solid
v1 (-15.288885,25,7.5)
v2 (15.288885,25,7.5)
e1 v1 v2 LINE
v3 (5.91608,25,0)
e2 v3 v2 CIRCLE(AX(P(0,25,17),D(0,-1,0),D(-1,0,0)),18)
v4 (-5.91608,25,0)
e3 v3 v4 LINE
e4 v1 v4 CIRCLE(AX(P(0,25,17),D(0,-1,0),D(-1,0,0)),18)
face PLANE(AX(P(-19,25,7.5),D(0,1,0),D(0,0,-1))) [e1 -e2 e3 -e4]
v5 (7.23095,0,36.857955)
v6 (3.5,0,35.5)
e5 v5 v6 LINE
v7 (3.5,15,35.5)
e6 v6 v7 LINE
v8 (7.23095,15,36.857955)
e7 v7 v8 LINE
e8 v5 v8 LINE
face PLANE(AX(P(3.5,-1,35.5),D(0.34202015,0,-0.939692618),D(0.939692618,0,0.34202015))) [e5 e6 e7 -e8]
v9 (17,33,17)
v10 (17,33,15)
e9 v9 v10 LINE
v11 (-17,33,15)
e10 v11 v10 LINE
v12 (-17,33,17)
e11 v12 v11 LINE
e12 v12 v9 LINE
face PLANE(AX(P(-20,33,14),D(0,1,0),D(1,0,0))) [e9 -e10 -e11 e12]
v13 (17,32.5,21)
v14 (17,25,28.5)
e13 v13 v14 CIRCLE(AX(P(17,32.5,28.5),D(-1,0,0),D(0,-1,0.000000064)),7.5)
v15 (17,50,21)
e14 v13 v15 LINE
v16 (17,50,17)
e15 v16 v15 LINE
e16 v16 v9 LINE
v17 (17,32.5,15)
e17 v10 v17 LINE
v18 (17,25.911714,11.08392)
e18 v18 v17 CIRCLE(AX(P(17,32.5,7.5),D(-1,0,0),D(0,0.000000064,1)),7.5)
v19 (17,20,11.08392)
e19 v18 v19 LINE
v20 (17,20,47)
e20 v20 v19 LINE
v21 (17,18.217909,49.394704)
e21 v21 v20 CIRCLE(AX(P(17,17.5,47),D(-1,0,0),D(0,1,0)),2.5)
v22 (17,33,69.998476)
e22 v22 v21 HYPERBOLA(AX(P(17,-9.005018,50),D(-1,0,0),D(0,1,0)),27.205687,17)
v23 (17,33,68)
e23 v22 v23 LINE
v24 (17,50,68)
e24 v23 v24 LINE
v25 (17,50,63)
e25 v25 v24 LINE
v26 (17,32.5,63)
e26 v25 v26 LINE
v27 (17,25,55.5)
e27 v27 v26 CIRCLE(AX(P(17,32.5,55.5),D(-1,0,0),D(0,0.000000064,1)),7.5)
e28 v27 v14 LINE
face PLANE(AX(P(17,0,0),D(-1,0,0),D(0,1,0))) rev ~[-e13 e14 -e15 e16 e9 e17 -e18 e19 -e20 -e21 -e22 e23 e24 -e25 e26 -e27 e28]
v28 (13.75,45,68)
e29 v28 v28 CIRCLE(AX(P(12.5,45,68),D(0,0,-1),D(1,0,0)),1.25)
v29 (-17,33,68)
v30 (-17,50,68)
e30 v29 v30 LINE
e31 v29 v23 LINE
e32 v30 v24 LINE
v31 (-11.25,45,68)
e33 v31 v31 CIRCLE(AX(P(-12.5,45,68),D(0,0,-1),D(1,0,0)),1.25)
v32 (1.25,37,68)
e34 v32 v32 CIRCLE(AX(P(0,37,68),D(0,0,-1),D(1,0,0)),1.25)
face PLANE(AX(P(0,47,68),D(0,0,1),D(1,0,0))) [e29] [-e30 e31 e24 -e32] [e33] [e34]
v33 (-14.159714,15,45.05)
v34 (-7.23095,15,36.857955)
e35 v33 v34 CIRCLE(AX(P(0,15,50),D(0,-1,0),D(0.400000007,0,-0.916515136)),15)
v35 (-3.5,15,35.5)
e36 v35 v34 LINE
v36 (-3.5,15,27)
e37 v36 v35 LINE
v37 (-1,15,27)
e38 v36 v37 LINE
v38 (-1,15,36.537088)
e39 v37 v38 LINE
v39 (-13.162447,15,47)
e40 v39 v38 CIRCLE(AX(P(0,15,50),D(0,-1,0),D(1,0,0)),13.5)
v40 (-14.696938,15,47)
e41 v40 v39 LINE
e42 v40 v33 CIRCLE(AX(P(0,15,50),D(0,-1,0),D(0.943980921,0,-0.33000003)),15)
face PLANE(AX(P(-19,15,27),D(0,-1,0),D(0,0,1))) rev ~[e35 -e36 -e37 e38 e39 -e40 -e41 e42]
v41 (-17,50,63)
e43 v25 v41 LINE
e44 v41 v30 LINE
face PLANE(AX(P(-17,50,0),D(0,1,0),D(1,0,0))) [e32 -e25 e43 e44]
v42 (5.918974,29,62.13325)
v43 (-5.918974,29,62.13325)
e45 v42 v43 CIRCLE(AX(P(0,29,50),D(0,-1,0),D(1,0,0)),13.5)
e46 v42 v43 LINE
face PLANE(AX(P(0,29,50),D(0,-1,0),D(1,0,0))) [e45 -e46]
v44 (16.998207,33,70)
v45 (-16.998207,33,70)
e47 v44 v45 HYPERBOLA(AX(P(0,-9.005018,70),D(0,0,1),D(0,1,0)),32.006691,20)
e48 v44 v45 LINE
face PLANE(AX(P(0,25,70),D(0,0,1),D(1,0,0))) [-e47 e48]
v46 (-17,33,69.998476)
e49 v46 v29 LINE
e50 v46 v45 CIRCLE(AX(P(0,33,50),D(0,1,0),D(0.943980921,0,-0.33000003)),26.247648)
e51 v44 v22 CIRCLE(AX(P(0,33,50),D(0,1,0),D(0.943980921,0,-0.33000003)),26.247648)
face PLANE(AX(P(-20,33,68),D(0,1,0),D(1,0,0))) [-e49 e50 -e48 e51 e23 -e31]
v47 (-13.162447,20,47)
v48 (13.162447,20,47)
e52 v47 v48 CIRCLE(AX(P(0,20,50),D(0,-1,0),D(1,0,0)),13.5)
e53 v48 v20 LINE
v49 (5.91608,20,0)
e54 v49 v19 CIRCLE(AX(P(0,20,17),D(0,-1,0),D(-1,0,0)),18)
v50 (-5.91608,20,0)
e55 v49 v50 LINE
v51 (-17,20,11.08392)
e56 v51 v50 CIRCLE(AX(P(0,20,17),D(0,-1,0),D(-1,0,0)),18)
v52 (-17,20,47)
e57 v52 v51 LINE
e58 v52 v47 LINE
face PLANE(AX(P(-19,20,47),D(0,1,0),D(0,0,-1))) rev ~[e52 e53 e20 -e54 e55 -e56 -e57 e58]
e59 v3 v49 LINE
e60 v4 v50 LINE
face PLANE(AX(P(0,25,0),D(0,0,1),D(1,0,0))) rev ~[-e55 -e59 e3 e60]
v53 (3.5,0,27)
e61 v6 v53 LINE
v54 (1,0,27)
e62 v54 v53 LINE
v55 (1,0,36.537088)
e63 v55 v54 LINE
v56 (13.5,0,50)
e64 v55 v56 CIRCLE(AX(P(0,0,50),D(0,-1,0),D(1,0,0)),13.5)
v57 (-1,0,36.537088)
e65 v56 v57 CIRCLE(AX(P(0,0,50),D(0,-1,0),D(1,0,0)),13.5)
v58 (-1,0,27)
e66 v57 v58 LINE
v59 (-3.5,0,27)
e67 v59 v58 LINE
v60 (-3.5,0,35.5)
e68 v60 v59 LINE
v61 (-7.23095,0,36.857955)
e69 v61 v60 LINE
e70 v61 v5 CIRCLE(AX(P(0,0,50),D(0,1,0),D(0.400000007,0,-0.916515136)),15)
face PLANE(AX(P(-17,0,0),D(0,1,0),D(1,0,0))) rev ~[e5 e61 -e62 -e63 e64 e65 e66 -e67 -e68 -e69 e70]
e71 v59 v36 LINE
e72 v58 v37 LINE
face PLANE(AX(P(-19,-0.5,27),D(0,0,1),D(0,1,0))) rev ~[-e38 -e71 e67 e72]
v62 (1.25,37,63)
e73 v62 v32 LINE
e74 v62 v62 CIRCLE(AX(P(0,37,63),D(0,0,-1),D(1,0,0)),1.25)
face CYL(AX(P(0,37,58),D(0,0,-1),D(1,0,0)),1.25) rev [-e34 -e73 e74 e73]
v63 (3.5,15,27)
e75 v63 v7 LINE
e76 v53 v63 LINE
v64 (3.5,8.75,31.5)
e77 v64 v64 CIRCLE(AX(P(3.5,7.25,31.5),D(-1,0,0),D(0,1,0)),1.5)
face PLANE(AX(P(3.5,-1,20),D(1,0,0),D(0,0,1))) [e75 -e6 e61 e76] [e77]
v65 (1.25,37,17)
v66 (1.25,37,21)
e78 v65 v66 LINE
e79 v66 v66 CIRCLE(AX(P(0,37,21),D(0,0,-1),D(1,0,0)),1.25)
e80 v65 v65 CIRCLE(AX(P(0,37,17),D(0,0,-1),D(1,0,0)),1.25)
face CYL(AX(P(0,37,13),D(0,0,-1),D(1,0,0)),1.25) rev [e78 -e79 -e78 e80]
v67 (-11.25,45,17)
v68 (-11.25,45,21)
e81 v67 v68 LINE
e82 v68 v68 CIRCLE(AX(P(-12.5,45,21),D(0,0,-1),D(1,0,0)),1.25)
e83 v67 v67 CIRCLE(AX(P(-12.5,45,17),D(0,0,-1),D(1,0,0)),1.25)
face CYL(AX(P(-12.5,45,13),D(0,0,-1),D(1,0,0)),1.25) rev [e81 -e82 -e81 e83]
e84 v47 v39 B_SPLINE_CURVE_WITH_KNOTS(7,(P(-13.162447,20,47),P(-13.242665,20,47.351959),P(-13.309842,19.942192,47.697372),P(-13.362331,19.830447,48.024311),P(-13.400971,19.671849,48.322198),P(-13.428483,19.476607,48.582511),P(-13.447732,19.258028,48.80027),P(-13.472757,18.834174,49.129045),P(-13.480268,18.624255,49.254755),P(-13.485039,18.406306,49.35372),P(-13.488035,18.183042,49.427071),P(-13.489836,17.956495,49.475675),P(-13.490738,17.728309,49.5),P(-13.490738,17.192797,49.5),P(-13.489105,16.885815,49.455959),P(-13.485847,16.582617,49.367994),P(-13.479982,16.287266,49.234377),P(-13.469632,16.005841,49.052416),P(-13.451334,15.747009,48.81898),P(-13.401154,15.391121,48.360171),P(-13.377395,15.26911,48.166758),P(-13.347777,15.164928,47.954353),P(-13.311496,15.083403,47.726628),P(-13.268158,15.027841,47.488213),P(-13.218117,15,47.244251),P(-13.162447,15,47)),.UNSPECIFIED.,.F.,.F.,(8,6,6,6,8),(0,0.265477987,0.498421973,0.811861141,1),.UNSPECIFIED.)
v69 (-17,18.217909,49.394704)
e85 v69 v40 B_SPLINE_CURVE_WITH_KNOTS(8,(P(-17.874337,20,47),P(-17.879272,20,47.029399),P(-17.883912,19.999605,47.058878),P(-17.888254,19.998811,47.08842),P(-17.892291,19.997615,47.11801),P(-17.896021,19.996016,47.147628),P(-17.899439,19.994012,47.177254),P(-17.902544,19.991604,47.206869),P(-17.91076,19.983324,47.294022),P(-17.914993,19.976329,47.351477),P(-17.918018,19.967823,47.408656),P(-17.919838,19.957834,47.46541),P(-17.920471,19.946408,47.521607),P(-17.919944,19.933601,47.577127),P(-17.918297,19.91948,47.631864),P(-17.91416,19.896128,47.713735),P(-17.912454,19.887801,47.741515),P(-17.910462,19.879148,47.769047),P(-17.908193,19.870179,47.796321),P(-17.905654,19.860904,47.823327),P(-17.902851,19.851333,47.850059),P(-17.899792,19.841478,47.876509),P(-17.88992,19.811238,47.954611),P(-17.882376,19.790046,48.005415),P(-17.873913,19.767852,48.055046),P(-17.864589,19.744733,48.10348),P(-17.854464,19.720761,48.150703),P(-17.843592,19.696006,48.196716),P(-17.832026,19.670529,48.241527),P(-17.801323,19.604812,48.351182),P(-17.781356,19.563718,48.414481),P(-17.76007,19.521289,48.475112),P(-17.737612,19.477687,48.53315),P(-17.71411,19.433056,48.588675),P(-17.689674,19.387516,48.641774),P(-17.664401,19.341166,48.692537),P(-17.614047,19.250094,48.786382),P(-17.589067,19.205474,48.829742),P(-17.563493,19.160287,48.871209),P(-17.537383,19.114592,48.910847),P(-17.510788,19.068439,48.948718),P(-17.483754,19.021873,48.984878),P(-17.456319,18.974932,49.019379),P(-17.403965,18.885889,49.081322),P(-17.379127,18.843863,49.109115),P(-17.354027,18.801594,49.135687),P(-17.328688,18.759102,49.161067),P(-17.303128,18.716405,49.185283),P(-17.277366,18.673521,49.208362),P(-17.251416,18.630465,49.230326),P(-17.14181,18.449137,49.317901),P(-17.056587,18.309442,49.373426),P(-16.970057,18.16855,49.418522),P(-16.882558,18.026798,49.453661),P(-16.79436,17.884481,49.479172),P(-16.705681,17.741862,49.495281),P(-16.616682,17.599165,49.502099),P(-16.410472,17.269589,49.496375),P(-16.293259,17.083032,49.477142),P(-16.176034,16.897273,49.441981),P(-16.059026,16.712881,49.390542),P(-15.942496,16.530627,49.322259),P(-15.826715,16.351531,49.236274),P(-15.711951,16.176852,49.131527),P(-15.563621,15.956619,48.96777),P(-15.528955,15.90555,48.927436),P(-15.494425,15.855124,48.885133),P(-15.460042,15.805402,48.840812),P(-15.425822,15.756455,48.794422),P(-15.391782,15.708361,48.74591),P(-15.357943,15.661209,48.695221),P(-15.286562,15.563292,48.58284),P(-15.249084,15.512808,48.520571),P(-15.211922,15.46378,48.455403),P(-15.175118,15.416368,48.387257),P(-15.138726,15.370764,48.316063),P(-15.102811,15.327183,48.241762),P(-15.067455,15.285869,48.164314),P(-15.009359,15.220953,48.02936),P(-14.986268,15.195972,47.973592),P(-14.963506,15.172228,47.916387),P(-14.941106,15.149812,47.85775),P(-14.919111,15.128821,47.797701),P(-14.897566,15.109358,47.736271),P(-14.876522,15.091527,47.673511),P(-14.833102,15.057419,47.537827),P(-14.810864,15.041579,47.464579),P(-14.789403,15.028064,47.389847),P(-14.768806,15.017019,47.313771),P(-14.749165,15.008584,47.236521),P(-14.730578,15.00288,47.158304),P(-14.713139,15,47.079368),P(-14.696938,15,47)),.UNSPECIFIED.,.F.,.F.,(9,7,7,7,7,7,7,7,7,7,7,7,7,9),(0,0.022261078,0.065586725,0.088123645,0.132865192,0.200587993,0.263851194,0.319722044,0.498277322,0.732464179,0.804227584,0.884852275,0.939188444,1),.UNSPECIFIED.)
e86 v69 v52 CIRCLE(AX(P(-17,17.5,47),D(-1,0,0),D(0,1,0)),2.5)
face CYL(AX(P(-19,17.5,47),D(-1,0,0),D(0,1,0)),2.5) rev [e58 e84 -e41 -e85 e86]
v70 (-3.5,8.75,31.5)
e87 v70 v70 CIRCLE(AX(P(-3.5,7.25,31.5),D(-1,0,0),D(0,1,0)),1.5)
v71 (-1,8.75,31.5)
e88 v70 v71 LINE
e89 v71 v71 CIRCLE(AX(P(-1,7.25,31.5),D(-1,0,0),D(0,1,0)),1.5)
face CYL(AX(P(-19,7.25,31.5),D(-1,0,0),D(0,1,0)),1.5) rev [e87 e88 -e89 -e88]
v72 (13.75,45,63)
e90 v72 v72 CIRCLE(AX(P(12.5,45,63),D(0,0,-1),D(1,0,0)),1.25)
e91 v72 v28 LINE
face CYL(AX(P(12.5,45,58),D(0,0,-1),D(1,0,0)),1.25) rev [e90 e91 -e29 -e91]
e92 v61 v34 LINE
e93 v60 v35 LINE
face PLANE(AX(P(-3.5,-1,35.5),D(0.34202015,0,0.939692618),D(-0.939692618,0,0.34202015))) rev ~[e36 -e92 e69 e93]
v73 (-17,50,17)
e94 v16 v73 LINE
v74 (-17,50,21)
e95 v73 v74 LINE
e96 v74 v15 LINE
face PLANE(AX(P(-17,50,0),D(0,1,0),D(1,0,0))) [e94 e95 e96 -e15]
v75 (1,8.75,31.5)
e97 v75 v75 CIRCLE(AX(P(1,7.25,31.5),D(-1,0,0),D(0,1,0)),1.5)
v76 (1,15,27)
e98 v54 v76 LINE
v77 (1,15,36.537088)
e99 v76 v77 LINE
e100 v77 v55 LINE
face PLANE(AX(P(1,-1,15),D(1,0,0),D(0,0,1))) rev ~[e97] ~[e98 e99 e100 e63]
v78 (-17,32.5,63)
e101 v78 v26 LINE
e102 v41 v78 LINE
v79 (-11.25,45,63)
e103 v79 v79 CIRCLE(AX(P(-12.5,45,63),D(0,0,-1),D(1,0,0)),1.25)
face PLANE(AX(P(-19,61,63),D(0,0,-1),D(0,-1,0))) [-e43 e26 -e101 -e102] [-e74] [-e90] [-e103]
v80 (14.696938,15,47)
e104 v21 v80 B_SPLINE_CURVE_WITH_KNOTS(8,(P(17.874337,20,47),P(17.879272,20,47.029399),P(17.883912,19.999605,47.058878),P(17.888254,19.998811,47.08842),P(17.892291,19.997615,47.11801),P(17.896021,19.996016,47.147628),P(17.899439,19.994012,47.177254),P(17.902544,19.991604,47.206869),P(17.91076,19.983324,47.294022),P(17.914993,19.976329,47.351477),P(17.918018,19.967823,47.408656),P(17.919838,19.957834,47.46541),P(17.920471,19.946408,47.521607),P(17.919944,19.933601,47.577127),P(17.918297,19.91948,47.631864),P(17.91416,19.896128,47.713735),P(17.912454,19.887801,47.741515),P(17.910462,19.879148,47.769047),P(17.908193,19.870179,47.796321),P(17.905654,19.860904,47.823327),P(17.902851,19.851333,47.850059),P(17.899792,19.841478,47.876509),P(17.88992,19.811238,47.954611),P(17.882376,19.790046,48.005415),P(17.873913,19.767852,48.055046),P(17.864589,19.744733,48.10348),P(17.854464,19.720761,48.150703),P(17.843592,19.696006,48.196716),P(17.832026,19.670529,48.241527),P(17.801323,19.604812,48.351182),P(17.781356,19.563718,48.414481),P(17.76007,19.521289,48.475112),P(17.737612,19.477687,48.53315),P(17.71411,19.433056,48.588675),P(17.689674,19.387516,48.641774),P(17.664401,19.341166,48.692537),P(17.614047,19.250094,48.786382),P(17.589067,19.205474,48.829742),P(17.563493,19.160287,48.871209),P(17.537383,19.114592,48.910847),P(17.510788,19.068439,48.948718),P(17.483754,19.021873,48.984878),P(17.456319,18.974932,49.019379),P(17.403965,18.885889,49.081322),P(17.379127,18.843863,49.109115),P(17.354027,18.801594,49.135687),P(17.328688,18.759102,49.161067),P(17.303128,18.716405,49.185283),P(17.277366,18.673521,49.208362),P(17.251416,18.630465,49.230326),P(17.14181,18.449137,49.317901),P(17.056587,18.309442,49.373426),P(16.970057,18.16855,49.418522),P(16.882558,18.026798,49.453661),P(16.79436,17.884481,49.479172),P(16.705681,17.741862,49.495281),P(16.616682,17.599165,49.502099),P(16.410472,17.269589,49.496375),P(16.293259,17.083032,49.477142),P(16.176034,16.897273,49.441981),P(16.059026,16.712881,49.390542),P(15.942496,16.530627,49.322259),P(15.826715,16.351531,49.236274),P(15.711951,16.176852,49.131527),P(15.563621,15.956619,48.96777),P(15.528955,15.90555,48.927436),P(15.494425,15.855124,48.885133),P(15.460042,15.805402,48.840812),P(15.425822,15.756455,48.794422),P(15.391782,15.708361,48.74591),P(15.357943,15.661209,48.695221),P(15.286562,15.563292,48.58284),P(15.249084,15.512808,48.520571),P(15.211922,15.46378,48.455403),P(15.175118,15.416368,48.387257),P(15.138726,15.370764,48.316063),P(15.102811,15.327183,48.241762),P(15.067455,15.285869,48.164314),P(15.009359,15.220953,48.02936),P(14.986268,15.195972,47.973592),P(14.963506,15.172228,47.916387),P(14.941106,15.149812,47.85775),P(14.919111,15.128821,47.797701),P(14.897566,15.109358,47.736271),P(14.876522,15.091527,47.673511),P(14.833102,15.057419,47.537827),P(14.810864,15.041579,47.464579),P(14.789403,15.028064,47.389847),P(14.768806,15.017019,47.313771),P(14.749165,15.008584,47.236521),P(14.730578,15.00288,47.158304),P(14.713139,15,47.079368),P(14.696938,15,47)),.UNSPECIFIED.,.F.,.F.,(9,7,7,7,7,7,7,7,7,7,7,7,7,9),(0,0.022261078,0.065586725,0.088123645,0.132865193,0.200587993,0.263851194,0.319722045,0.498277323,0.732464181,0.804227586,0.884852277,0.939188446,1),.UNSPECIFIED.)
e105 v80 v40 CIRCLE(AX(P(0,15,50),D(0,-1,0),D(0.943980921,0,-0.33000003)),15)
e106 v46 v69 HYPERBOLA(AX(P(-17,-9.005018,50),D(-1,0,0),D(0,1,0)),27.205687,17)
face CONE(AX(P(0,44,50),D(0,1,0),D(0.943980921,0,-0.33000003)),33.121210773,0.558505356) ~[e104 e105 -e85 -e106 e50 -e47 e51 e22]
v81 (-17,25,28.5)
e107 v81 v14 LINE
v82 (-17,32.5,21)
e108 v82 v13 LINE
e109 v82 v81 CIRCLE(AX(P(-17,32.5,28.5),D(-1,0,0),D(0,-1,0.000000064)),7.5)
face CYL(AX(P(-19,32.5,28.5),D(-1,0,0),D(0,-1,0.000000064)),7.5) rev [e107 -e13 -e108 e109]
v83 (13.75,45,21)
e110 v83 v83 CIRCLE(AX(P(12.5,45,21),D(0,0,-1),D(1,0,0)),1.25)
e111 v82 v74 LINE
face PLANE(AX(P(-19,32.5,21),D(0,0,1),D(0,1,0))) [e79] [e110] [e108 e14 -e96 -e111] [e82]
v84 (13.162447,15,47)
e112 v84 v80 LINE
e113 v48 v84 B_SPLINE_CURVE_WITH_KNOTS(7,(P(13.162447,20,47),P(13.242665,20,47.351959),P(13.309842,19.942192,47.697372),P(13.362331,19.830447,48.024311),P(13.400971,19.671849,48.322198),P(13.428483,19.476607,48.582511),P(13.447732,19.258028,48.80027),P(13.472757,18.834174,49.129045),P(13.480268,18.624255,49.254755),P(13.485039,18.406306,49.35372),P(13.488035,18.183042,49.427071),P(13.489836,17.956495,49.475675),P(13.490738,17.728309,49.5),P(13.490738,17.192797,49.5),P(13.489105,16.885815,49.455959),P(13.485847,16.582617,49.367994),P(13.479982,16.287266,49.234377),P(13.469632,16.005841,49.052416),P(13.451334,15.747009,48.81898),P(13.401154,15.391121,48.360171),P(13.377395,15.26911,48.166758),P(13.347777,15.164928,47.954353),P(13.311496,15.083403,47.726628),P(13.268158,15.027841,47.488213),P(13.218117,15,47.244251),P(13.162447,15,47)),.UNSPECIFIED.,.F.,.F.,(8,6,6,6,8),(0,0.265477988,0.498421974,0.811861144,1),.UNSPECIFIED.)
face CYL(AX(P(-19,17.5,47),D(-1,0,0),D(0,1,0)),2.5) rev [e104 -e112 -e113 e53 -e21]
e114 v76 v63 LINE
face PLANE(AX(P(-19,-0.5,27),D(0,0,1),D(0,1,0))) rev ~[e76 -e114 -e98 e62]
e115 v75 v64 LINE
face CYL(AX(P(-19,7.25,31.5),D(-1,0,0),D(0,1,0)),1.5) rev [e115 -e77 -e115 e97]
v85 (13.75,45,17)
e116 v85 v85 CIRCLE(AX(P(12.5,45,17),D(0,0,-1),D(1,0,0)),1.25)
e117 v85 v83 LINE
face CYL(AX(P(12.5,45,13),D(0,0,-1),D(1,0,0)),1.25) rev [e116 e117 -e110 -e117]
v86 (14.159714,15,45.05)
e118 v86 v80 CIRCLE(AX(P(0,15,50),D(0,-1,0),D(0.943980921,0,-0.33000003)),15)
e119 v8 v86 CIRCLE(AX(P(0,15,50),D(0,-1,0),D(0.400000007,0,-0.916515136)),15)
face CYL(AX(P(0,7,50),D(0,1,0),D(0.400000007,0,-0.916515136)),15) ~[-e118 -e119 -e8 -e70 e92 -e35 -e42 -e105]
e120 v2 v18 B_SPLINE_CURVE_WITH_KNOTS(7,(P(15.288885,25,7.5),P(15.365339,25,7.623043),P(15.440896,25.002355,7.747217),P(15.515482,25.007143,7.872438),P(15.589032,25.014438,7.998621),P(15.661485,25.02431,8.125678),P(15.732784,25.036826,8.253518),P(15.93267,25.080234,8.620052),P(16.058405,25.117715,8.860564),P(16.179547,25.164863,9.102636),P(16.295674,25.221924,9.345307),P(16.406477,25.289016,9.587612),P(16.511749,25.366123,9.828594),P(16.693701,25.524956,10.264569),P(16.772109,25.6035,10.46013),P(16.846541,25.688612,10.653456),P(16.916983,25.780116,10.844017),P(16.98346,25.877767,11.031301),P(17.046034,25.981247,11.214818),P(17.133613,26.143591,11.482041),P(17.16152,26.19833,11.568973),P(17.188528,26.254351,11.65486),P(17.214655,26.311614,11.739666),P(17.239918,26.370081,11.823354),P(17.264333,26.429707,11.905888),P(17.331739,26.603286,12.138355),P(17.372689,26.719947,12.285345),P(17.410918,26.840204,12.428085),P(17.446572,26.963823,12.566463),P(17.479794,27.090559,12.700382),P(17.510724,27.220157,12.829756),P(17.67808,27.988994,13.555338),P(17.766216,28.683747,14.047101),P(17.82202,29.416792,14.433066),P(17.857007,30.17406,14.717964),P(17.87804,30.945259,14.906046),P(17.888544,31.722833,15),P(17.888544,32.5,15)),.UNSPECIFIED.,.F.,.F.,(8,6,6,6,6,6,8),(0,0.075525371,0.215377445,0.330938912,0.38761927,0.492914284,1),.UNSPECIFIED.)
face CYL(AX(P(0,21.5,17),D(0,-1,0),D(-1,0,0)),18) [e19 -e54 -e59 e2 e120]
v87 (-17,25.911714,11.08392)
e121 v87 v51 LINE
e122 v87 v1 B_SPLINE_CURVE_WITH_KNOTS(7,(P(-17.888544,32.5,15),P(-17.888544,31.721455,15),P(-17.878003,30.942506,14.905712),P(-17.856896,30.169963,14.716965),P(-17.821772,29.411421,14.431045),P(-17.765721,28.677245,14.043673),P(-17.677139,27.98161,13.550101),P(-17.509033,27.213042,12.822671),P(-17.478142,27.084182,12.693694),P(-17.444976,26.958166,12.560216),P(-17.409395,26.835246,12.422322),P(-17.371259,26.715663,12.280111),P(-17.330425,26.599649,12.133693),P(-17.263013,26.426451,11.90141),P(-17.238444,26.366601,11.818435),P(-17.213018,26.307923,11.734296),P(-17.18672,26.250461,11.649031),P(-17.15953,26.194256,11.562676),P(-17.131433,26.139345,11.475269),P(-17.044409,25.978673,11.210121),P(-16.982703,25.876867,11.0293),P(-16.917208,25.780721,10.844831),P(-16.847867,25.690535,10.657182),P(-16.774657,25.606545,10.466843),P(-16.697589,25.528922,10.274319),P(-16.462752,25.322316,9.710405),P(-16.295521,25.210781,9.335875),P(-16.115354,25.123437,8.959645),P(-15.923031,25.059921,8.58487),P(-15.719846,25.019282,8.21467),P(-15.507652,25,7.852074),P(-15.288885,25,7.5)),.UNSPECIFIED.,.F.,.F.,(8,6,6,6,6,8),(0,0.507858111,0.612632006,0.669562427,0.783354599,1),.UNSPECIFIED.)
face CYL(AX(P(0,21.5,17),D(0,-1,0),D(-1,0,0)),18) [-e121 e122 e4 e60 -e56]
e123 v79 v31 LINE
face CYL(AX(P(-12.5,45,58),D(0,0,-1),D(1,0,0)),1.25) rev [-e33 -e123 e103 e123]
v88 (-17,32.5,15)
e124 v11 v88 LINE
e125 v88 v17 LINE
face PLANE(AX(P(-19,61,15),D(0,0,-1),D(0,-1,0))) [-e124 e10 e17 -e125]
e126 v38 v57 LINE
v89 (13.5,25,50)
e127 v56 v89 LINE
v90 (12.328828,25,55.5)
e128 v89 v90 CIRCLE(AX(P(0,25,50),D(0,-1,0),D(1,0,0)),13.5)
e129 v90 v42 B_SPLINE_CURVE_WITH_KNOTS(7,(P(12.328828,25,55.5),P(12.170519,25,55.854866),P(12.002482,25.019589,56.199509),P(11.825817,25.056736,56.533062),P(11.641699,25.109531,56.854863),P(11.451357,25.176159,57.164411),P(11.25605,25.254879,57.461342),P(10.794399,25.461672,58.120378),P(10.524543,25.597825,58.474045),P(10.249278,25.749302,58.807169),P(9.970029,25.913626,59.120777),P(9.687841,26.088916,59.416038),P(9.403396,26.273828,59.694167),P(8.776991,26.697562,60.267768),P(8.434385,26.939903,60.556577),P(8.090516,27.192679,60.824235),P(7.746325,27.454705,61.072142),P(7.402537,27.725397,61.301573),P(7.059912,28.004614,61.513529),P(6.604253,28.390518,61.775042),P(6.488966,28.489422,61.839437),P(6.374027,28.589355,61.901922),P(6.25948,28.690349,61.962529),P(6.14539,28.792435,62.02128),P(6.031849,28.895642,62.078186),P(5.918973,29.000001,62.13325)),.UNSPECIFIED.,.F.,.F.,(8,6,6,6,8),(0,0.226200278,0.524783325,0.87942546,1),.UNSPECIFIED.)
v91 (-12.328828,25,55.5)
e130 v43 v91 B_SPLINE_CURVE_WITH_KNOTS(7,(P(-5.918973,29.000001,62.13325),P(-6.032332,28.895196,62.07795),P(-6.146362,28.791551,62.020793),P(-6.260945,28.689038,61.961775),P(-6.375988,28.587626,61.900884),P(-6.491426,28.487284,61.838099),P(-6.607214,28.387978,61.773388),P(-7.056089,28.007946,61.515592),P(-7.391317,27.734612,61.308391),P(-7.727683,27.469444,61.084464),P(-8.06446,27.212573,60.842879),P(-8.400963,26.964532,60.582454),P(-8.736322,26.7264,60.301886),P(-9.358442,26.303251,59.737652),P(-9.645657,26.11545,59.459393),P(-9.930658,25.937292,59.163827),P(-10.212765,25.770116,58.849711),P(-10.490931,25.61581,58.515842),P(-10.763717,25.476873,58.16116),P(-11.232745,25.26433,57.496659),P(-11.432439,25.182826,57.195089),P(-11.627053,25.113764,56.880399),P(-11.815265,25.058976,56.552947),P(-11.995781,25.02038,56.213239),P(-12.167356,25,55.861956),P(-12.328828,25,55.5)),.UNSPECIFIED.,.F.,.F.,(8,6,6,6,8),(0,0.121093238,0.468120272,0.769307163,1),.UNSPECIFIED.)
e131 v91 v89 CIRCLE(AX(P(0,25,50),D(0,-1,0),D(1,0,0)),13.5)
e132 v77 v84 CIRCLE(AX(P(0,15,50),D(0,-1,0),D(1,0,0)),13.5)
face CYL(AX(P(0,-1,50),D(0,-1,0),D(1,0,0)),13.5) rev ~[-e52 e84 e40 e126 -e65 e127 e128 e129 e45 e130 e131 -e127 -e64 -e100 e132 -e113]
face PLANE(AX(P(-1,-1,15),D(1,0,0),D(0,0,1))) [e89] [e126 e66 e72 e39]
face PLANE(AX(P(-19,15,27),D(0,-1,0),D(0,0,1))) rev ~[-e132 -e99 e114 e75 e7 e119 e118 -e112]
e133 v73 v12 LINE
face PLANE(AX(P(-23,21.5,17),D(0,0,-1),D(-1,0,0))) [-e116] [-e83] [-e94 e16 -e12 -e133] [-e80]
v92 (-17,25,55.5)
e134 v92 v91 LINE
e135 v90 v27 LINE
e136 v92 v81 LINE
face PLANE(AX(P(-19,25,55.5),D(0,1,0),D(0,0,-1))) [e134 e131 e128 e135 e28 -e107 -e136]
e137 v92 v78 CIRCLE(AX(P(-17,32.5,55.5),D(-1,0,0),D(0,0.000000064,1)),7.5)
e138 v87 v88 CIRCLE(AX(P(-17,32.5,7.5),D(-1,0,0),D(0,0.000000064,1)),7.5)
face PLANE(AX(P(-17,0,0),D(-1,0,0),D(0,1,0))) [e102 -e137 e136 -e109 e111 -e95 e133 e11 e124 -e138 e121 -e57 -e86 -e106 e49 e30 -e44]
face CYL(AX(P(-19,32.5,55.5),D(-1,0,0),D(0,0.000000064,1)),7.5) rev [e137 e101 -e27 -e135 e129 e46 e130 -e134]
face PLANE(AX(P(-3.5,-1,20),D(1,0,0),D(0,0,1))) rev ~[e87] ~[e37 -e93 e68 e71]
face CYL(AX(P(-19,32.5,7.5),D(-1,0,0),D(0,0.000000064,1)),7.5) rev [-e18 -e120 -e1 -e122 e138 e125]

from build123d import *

# Parameters (mm, degrees)
SKETCH016_AS_DRAWN_R                 = 13.5
EXTRUDE001_DEPTH                     = 30
EXTRUDE001_ONTO_SKETCH016_ROLL_ANGLE = 90
SKETCH017_AS_DRAWN_W                 = 2
SKETCH017_AS_DRAWN_H                 = 25
EXTRUDE002_DEPTH                     = 20
EXTRUDE002_ONTO_SKETCH017_ROLL_ANGLE = 90
SKETCH020_W                          = 40
SKETCH020_H                          = 28
EXTRUDE003_DEPTH                     = 3
EXTRUDE004_DEPTH                     = 3
SKETCH021_R                          = 1.25
EXTRUDE005_DEPTH                     = 15
EXTRUDE006_DEPTH                     = 15
SKETCH023_W                          = 45
SKETCH023_H                          = 10
SKETCH_R                             = 1.5
EXTRUDE_DEPTH                        = 38
SKETCH014_W                          = 16
SKETCH014_H                          = 20
BOX_W                                = 34
BOX_H                                = 50
BOX_DEPTH                            = 70


with BuildPart() as extrude_tube_hole:
    # Sketch016 as drawn → Extrude001 (new)
    with BuildSketch(Plane.XY):
        with Locations((0, 50)):
            Circle(SKETCH016_AS_DRAWN_R)
    extrude(amount=-EXTRUDE001_DEPTH)


with BuildPart() as extrude_tube_hole_1:
    # Extrude001 onto Sketch016 roll: moved
    add(extrude_tube_hole.part.rotate(Axis((0, 0, 0), (1, 0, 0)), EXTRUDE001_ONTO_SKETCH016_ROLL_ANGLE))


with BuildPart() as extrude_tube_hole_2:
    # Extrude001 onto Sketch016 placement: moved
    add(extrude_tube_hole_1.part)


with BuildPart() as extrude_tube_hole_3:
    # Extrude001 placement: moved
    add(extrude_tube_hole_2.part.moved(Location((0, -1, 0))))


with BuildPart() as arc_ext:
    # Sketch017 as drawn → Extrude002 (new)
    with BuildSketch(Plane.XY):
        Polygon((3.5, 35.5), (20, 41.505509), (20, 20), (3.5, 20), align=None)
        Polygon((-3.5, 35.5), (-20, 41.505509), (-20, 20), (-3.5, 20), align=None)
        with Locations((0, 27.5)):
            Rectangle(SKETCH017_AS_DRAWN_W, SKETCH017_AS_DRAWN_H)
    extrude(amount=-EXTRUDE002_DEPTH)


with BuildPart() as arc_ext_1:
    # Extrude002 onto Sketch017 roll: moved
    add(arc_ext.part.rotate(Axis((0, 0, 0), (1, 0, 0)), EXTRUDE002_ONTO_SKETCH017_ROLL_ANGLE))


with BuildPart() as arc_ext_2:
    # Extrude002 onto Sketch017 placement: moved
    add(arc_ext_1.part)


with BuildPart() as arc_ext_3:
    # Extrude002 placement: moved
    add(arc_ext_2.part.moved(Location((0, -1, 0))))


with BuildPart() as extrude003:
    # Sketch020 → Extrude003 (new body)
    with BuildSketch(Plane.XY):
        with Locations((0, 47)):
            Rectangle(SKETCH020_W, SKETCH020_H)
    extrude(amount=EXTRUDE003_DEPTH)


with BuildPart() as extrude003_1:
    # Extrude003 placement: moved
    add(extrude003.part.moved(Location((0, 0, 68))))


with BuildPart() as extrude004:
    # Sketch020 → Extrude004 (new body)
    with BuildSketch(Plane.XY):
        with Locations((0, 47)):
            Rectangle(SKETCH020_W, SKETCH020_H)
    extrude(amount=EXTRUDE004_DEPTH)


with BuildPart() as extrude004_1:
    # Extrude004 placement: moved
    add(extrude004.part.moved(Location((0, 0, 14))))


with BuildPart() as extrude005:
    # Sketch021 → Extrude005 (new body)
    with BuildSketch(Plane.XY):
        with Locations((-12.5, 45)):
            Circle(SKETCH021_R)
        with Locations((12.5, 45)):
            Circle(SKETCH021_R)
        with Locations((0, 37)):
            Circle(SKETCH021_R)
    extrude(amount=EXTRUDE005_DEPTH)


with BuildPart() as extrude005_1:
    # Extrude005 placement: moved
    add(extrude005.part.moved(Location((0, 0, 13))))


with BuildPart() as extrude006:
    # Sketch021 → Extrude006 (new body)
    with BuildSketch(Plane.XY):
        with Locations((-12.5, 45)):
            Circle(SKETCH021_R)
        with Locations((12.5, 45)):
            Circle(SKETCH021_R)
        with Locations((0, 37)):
            Circle(SKETCH021_R)
    extrude(amount=EXTRUDE006_DEPTH)


with BuildPart() as extrude006_1:
    # Extrude006 placement: moved
    add(extrude006.part.moved(Location((0, 0, 58))))


with BuildPart() as sweep002:
    # Sweep002: sweep along a path in Sketch022
    with BuildLine(Plane.XZ) as sweep002_path:
        ThreePointArc((-18, 17), (0, -1), (18, 17))
    # Sketch023 → Sweep002 (sweep)
    with BuildSketch(Plane.YZ):
        with Locations((21.5, -6)):
            Rectangle(SKETCH023_W, SKETCH023_H)
    sweep(path=sweep002_path.line)


with BuildPart() as fusion001:
    # Sketch → Extrude (new body)
    with BuildSketch(Plane.YZ):
        with Locations((7.25, 31.5)):
            Circle(SKETCH_R)
        with BuildLine():
            Line((61, 63), (32.5, 63))
            ThreePointArc((32.5, 63), (27.196699, 60.803301), (25, 55.5))
            Line((25, 55.5), (25, 28.5))
            ThreePointArc((25, 28.5), (27.196699, 23.196699), (32.5, 21))
            Line((32.5, 21), (61, 21))
            Line((61, 21), (61, 63))
        make_face()
        with BuildLine():
            Line((61, 15), (32.5, 15))
            ThreePointArc((32.5, 15), (27.196699, 12.803301), (25, 7.5))
            Line((25, 7.5), (25, -2))
            Line((25, -2), (61, -2))
            Line((61, -2), (61, 15))
        make_face()
        with BuildLine():
            Line((20, 47), (20, -2))
            Line((20, -2), (-0.5, -2))
            Line((-0.5, -2), (-0.5, 27))
            Line((-0.5, 27), (15, 27))
            Line((15, 27), (15, 47))
            ThreePointArc((20, 47), (17.5, 49.5), (15, 47))
        make_face()
    extrude(amount=EXTRUDE_DEPTH)


with BuildPart() as fusion001_1:
    # Extrude placement: moved
    add(fusion001.part.moved(Location((-19, 0, 0))))

    # Fusion001: union Extrude-tube-hole, arc-ext, Extrude003, Extrude004, Extrude005, Extrude006, Sweep002
    add(extrude_tube_hole_3.part)
    add(arc_ext_3.part)
    add(extrude003_1.part)
    add(extrude004_1.part)
    add(extrude005_1.part)
    add(extrude006_1.part)
    add(sweep002.part)


with BuildPart() as sweep_body:
    # Sweep: sweep along a path in Sketch015
    with BuildLine(Plane.XZ) as sweep_path:
        ThreePointArc((4, 40.834849), (0, 60), (-4, 40.834849))
    # Sketch014 → Sweep (sweep)
    with BuildSketch(Plane(origin=(0, -1, 0), x_dir=(0, 1, 0), z_dir=(1, 0, 0))):
        with Locations((8, 75)):
            Rectangle(SKETCH014_W, SKETCH014_H)
    sweep(path=sweep_path.line)


with BuildPart() as fusion:
    # Sweep001: sweep along a path in Sketch019
    with BuildLine(Plane.XZ) as sweep001_path:
        ThreePointArc((9.439809, 46.7), (0, 60), (-9.439809, 46.7))
    # Sketch018 → Sweep001 (sweep)
    with BuildSketch(Plane(origin=(0, -1, 0), x_dir=(0, 1, 0), z_dir=(1, 0, 0))):
        Polygon((16, 65), (16, 83.121211), (45, 83.121211), align=None)
    sweep(path=sweep001_path.line)

    # Fusion: union Sweep body
    add(sweep_body.part)


with BuildPart() as cut001:
    # Box → Box (new body)
    with BuildSketch(Plane(origin=(-17, 0, 0), x_dir=(1, 0, 0), z_dir=(0, 0, 1))):
        with Locations((17, 25)):
            Rectangle(BOX_W, BOX_H)
    extrude(amount=BOX_DEPTH)

    # Cut: cut Fusion
    add(fusion.part, mode=Mode.SUBTRACT)

    # Cut001: cut Fusion001
    add(fusion001_1.part, mode=Mode.SUBTRACT)


solid = cut001.part
